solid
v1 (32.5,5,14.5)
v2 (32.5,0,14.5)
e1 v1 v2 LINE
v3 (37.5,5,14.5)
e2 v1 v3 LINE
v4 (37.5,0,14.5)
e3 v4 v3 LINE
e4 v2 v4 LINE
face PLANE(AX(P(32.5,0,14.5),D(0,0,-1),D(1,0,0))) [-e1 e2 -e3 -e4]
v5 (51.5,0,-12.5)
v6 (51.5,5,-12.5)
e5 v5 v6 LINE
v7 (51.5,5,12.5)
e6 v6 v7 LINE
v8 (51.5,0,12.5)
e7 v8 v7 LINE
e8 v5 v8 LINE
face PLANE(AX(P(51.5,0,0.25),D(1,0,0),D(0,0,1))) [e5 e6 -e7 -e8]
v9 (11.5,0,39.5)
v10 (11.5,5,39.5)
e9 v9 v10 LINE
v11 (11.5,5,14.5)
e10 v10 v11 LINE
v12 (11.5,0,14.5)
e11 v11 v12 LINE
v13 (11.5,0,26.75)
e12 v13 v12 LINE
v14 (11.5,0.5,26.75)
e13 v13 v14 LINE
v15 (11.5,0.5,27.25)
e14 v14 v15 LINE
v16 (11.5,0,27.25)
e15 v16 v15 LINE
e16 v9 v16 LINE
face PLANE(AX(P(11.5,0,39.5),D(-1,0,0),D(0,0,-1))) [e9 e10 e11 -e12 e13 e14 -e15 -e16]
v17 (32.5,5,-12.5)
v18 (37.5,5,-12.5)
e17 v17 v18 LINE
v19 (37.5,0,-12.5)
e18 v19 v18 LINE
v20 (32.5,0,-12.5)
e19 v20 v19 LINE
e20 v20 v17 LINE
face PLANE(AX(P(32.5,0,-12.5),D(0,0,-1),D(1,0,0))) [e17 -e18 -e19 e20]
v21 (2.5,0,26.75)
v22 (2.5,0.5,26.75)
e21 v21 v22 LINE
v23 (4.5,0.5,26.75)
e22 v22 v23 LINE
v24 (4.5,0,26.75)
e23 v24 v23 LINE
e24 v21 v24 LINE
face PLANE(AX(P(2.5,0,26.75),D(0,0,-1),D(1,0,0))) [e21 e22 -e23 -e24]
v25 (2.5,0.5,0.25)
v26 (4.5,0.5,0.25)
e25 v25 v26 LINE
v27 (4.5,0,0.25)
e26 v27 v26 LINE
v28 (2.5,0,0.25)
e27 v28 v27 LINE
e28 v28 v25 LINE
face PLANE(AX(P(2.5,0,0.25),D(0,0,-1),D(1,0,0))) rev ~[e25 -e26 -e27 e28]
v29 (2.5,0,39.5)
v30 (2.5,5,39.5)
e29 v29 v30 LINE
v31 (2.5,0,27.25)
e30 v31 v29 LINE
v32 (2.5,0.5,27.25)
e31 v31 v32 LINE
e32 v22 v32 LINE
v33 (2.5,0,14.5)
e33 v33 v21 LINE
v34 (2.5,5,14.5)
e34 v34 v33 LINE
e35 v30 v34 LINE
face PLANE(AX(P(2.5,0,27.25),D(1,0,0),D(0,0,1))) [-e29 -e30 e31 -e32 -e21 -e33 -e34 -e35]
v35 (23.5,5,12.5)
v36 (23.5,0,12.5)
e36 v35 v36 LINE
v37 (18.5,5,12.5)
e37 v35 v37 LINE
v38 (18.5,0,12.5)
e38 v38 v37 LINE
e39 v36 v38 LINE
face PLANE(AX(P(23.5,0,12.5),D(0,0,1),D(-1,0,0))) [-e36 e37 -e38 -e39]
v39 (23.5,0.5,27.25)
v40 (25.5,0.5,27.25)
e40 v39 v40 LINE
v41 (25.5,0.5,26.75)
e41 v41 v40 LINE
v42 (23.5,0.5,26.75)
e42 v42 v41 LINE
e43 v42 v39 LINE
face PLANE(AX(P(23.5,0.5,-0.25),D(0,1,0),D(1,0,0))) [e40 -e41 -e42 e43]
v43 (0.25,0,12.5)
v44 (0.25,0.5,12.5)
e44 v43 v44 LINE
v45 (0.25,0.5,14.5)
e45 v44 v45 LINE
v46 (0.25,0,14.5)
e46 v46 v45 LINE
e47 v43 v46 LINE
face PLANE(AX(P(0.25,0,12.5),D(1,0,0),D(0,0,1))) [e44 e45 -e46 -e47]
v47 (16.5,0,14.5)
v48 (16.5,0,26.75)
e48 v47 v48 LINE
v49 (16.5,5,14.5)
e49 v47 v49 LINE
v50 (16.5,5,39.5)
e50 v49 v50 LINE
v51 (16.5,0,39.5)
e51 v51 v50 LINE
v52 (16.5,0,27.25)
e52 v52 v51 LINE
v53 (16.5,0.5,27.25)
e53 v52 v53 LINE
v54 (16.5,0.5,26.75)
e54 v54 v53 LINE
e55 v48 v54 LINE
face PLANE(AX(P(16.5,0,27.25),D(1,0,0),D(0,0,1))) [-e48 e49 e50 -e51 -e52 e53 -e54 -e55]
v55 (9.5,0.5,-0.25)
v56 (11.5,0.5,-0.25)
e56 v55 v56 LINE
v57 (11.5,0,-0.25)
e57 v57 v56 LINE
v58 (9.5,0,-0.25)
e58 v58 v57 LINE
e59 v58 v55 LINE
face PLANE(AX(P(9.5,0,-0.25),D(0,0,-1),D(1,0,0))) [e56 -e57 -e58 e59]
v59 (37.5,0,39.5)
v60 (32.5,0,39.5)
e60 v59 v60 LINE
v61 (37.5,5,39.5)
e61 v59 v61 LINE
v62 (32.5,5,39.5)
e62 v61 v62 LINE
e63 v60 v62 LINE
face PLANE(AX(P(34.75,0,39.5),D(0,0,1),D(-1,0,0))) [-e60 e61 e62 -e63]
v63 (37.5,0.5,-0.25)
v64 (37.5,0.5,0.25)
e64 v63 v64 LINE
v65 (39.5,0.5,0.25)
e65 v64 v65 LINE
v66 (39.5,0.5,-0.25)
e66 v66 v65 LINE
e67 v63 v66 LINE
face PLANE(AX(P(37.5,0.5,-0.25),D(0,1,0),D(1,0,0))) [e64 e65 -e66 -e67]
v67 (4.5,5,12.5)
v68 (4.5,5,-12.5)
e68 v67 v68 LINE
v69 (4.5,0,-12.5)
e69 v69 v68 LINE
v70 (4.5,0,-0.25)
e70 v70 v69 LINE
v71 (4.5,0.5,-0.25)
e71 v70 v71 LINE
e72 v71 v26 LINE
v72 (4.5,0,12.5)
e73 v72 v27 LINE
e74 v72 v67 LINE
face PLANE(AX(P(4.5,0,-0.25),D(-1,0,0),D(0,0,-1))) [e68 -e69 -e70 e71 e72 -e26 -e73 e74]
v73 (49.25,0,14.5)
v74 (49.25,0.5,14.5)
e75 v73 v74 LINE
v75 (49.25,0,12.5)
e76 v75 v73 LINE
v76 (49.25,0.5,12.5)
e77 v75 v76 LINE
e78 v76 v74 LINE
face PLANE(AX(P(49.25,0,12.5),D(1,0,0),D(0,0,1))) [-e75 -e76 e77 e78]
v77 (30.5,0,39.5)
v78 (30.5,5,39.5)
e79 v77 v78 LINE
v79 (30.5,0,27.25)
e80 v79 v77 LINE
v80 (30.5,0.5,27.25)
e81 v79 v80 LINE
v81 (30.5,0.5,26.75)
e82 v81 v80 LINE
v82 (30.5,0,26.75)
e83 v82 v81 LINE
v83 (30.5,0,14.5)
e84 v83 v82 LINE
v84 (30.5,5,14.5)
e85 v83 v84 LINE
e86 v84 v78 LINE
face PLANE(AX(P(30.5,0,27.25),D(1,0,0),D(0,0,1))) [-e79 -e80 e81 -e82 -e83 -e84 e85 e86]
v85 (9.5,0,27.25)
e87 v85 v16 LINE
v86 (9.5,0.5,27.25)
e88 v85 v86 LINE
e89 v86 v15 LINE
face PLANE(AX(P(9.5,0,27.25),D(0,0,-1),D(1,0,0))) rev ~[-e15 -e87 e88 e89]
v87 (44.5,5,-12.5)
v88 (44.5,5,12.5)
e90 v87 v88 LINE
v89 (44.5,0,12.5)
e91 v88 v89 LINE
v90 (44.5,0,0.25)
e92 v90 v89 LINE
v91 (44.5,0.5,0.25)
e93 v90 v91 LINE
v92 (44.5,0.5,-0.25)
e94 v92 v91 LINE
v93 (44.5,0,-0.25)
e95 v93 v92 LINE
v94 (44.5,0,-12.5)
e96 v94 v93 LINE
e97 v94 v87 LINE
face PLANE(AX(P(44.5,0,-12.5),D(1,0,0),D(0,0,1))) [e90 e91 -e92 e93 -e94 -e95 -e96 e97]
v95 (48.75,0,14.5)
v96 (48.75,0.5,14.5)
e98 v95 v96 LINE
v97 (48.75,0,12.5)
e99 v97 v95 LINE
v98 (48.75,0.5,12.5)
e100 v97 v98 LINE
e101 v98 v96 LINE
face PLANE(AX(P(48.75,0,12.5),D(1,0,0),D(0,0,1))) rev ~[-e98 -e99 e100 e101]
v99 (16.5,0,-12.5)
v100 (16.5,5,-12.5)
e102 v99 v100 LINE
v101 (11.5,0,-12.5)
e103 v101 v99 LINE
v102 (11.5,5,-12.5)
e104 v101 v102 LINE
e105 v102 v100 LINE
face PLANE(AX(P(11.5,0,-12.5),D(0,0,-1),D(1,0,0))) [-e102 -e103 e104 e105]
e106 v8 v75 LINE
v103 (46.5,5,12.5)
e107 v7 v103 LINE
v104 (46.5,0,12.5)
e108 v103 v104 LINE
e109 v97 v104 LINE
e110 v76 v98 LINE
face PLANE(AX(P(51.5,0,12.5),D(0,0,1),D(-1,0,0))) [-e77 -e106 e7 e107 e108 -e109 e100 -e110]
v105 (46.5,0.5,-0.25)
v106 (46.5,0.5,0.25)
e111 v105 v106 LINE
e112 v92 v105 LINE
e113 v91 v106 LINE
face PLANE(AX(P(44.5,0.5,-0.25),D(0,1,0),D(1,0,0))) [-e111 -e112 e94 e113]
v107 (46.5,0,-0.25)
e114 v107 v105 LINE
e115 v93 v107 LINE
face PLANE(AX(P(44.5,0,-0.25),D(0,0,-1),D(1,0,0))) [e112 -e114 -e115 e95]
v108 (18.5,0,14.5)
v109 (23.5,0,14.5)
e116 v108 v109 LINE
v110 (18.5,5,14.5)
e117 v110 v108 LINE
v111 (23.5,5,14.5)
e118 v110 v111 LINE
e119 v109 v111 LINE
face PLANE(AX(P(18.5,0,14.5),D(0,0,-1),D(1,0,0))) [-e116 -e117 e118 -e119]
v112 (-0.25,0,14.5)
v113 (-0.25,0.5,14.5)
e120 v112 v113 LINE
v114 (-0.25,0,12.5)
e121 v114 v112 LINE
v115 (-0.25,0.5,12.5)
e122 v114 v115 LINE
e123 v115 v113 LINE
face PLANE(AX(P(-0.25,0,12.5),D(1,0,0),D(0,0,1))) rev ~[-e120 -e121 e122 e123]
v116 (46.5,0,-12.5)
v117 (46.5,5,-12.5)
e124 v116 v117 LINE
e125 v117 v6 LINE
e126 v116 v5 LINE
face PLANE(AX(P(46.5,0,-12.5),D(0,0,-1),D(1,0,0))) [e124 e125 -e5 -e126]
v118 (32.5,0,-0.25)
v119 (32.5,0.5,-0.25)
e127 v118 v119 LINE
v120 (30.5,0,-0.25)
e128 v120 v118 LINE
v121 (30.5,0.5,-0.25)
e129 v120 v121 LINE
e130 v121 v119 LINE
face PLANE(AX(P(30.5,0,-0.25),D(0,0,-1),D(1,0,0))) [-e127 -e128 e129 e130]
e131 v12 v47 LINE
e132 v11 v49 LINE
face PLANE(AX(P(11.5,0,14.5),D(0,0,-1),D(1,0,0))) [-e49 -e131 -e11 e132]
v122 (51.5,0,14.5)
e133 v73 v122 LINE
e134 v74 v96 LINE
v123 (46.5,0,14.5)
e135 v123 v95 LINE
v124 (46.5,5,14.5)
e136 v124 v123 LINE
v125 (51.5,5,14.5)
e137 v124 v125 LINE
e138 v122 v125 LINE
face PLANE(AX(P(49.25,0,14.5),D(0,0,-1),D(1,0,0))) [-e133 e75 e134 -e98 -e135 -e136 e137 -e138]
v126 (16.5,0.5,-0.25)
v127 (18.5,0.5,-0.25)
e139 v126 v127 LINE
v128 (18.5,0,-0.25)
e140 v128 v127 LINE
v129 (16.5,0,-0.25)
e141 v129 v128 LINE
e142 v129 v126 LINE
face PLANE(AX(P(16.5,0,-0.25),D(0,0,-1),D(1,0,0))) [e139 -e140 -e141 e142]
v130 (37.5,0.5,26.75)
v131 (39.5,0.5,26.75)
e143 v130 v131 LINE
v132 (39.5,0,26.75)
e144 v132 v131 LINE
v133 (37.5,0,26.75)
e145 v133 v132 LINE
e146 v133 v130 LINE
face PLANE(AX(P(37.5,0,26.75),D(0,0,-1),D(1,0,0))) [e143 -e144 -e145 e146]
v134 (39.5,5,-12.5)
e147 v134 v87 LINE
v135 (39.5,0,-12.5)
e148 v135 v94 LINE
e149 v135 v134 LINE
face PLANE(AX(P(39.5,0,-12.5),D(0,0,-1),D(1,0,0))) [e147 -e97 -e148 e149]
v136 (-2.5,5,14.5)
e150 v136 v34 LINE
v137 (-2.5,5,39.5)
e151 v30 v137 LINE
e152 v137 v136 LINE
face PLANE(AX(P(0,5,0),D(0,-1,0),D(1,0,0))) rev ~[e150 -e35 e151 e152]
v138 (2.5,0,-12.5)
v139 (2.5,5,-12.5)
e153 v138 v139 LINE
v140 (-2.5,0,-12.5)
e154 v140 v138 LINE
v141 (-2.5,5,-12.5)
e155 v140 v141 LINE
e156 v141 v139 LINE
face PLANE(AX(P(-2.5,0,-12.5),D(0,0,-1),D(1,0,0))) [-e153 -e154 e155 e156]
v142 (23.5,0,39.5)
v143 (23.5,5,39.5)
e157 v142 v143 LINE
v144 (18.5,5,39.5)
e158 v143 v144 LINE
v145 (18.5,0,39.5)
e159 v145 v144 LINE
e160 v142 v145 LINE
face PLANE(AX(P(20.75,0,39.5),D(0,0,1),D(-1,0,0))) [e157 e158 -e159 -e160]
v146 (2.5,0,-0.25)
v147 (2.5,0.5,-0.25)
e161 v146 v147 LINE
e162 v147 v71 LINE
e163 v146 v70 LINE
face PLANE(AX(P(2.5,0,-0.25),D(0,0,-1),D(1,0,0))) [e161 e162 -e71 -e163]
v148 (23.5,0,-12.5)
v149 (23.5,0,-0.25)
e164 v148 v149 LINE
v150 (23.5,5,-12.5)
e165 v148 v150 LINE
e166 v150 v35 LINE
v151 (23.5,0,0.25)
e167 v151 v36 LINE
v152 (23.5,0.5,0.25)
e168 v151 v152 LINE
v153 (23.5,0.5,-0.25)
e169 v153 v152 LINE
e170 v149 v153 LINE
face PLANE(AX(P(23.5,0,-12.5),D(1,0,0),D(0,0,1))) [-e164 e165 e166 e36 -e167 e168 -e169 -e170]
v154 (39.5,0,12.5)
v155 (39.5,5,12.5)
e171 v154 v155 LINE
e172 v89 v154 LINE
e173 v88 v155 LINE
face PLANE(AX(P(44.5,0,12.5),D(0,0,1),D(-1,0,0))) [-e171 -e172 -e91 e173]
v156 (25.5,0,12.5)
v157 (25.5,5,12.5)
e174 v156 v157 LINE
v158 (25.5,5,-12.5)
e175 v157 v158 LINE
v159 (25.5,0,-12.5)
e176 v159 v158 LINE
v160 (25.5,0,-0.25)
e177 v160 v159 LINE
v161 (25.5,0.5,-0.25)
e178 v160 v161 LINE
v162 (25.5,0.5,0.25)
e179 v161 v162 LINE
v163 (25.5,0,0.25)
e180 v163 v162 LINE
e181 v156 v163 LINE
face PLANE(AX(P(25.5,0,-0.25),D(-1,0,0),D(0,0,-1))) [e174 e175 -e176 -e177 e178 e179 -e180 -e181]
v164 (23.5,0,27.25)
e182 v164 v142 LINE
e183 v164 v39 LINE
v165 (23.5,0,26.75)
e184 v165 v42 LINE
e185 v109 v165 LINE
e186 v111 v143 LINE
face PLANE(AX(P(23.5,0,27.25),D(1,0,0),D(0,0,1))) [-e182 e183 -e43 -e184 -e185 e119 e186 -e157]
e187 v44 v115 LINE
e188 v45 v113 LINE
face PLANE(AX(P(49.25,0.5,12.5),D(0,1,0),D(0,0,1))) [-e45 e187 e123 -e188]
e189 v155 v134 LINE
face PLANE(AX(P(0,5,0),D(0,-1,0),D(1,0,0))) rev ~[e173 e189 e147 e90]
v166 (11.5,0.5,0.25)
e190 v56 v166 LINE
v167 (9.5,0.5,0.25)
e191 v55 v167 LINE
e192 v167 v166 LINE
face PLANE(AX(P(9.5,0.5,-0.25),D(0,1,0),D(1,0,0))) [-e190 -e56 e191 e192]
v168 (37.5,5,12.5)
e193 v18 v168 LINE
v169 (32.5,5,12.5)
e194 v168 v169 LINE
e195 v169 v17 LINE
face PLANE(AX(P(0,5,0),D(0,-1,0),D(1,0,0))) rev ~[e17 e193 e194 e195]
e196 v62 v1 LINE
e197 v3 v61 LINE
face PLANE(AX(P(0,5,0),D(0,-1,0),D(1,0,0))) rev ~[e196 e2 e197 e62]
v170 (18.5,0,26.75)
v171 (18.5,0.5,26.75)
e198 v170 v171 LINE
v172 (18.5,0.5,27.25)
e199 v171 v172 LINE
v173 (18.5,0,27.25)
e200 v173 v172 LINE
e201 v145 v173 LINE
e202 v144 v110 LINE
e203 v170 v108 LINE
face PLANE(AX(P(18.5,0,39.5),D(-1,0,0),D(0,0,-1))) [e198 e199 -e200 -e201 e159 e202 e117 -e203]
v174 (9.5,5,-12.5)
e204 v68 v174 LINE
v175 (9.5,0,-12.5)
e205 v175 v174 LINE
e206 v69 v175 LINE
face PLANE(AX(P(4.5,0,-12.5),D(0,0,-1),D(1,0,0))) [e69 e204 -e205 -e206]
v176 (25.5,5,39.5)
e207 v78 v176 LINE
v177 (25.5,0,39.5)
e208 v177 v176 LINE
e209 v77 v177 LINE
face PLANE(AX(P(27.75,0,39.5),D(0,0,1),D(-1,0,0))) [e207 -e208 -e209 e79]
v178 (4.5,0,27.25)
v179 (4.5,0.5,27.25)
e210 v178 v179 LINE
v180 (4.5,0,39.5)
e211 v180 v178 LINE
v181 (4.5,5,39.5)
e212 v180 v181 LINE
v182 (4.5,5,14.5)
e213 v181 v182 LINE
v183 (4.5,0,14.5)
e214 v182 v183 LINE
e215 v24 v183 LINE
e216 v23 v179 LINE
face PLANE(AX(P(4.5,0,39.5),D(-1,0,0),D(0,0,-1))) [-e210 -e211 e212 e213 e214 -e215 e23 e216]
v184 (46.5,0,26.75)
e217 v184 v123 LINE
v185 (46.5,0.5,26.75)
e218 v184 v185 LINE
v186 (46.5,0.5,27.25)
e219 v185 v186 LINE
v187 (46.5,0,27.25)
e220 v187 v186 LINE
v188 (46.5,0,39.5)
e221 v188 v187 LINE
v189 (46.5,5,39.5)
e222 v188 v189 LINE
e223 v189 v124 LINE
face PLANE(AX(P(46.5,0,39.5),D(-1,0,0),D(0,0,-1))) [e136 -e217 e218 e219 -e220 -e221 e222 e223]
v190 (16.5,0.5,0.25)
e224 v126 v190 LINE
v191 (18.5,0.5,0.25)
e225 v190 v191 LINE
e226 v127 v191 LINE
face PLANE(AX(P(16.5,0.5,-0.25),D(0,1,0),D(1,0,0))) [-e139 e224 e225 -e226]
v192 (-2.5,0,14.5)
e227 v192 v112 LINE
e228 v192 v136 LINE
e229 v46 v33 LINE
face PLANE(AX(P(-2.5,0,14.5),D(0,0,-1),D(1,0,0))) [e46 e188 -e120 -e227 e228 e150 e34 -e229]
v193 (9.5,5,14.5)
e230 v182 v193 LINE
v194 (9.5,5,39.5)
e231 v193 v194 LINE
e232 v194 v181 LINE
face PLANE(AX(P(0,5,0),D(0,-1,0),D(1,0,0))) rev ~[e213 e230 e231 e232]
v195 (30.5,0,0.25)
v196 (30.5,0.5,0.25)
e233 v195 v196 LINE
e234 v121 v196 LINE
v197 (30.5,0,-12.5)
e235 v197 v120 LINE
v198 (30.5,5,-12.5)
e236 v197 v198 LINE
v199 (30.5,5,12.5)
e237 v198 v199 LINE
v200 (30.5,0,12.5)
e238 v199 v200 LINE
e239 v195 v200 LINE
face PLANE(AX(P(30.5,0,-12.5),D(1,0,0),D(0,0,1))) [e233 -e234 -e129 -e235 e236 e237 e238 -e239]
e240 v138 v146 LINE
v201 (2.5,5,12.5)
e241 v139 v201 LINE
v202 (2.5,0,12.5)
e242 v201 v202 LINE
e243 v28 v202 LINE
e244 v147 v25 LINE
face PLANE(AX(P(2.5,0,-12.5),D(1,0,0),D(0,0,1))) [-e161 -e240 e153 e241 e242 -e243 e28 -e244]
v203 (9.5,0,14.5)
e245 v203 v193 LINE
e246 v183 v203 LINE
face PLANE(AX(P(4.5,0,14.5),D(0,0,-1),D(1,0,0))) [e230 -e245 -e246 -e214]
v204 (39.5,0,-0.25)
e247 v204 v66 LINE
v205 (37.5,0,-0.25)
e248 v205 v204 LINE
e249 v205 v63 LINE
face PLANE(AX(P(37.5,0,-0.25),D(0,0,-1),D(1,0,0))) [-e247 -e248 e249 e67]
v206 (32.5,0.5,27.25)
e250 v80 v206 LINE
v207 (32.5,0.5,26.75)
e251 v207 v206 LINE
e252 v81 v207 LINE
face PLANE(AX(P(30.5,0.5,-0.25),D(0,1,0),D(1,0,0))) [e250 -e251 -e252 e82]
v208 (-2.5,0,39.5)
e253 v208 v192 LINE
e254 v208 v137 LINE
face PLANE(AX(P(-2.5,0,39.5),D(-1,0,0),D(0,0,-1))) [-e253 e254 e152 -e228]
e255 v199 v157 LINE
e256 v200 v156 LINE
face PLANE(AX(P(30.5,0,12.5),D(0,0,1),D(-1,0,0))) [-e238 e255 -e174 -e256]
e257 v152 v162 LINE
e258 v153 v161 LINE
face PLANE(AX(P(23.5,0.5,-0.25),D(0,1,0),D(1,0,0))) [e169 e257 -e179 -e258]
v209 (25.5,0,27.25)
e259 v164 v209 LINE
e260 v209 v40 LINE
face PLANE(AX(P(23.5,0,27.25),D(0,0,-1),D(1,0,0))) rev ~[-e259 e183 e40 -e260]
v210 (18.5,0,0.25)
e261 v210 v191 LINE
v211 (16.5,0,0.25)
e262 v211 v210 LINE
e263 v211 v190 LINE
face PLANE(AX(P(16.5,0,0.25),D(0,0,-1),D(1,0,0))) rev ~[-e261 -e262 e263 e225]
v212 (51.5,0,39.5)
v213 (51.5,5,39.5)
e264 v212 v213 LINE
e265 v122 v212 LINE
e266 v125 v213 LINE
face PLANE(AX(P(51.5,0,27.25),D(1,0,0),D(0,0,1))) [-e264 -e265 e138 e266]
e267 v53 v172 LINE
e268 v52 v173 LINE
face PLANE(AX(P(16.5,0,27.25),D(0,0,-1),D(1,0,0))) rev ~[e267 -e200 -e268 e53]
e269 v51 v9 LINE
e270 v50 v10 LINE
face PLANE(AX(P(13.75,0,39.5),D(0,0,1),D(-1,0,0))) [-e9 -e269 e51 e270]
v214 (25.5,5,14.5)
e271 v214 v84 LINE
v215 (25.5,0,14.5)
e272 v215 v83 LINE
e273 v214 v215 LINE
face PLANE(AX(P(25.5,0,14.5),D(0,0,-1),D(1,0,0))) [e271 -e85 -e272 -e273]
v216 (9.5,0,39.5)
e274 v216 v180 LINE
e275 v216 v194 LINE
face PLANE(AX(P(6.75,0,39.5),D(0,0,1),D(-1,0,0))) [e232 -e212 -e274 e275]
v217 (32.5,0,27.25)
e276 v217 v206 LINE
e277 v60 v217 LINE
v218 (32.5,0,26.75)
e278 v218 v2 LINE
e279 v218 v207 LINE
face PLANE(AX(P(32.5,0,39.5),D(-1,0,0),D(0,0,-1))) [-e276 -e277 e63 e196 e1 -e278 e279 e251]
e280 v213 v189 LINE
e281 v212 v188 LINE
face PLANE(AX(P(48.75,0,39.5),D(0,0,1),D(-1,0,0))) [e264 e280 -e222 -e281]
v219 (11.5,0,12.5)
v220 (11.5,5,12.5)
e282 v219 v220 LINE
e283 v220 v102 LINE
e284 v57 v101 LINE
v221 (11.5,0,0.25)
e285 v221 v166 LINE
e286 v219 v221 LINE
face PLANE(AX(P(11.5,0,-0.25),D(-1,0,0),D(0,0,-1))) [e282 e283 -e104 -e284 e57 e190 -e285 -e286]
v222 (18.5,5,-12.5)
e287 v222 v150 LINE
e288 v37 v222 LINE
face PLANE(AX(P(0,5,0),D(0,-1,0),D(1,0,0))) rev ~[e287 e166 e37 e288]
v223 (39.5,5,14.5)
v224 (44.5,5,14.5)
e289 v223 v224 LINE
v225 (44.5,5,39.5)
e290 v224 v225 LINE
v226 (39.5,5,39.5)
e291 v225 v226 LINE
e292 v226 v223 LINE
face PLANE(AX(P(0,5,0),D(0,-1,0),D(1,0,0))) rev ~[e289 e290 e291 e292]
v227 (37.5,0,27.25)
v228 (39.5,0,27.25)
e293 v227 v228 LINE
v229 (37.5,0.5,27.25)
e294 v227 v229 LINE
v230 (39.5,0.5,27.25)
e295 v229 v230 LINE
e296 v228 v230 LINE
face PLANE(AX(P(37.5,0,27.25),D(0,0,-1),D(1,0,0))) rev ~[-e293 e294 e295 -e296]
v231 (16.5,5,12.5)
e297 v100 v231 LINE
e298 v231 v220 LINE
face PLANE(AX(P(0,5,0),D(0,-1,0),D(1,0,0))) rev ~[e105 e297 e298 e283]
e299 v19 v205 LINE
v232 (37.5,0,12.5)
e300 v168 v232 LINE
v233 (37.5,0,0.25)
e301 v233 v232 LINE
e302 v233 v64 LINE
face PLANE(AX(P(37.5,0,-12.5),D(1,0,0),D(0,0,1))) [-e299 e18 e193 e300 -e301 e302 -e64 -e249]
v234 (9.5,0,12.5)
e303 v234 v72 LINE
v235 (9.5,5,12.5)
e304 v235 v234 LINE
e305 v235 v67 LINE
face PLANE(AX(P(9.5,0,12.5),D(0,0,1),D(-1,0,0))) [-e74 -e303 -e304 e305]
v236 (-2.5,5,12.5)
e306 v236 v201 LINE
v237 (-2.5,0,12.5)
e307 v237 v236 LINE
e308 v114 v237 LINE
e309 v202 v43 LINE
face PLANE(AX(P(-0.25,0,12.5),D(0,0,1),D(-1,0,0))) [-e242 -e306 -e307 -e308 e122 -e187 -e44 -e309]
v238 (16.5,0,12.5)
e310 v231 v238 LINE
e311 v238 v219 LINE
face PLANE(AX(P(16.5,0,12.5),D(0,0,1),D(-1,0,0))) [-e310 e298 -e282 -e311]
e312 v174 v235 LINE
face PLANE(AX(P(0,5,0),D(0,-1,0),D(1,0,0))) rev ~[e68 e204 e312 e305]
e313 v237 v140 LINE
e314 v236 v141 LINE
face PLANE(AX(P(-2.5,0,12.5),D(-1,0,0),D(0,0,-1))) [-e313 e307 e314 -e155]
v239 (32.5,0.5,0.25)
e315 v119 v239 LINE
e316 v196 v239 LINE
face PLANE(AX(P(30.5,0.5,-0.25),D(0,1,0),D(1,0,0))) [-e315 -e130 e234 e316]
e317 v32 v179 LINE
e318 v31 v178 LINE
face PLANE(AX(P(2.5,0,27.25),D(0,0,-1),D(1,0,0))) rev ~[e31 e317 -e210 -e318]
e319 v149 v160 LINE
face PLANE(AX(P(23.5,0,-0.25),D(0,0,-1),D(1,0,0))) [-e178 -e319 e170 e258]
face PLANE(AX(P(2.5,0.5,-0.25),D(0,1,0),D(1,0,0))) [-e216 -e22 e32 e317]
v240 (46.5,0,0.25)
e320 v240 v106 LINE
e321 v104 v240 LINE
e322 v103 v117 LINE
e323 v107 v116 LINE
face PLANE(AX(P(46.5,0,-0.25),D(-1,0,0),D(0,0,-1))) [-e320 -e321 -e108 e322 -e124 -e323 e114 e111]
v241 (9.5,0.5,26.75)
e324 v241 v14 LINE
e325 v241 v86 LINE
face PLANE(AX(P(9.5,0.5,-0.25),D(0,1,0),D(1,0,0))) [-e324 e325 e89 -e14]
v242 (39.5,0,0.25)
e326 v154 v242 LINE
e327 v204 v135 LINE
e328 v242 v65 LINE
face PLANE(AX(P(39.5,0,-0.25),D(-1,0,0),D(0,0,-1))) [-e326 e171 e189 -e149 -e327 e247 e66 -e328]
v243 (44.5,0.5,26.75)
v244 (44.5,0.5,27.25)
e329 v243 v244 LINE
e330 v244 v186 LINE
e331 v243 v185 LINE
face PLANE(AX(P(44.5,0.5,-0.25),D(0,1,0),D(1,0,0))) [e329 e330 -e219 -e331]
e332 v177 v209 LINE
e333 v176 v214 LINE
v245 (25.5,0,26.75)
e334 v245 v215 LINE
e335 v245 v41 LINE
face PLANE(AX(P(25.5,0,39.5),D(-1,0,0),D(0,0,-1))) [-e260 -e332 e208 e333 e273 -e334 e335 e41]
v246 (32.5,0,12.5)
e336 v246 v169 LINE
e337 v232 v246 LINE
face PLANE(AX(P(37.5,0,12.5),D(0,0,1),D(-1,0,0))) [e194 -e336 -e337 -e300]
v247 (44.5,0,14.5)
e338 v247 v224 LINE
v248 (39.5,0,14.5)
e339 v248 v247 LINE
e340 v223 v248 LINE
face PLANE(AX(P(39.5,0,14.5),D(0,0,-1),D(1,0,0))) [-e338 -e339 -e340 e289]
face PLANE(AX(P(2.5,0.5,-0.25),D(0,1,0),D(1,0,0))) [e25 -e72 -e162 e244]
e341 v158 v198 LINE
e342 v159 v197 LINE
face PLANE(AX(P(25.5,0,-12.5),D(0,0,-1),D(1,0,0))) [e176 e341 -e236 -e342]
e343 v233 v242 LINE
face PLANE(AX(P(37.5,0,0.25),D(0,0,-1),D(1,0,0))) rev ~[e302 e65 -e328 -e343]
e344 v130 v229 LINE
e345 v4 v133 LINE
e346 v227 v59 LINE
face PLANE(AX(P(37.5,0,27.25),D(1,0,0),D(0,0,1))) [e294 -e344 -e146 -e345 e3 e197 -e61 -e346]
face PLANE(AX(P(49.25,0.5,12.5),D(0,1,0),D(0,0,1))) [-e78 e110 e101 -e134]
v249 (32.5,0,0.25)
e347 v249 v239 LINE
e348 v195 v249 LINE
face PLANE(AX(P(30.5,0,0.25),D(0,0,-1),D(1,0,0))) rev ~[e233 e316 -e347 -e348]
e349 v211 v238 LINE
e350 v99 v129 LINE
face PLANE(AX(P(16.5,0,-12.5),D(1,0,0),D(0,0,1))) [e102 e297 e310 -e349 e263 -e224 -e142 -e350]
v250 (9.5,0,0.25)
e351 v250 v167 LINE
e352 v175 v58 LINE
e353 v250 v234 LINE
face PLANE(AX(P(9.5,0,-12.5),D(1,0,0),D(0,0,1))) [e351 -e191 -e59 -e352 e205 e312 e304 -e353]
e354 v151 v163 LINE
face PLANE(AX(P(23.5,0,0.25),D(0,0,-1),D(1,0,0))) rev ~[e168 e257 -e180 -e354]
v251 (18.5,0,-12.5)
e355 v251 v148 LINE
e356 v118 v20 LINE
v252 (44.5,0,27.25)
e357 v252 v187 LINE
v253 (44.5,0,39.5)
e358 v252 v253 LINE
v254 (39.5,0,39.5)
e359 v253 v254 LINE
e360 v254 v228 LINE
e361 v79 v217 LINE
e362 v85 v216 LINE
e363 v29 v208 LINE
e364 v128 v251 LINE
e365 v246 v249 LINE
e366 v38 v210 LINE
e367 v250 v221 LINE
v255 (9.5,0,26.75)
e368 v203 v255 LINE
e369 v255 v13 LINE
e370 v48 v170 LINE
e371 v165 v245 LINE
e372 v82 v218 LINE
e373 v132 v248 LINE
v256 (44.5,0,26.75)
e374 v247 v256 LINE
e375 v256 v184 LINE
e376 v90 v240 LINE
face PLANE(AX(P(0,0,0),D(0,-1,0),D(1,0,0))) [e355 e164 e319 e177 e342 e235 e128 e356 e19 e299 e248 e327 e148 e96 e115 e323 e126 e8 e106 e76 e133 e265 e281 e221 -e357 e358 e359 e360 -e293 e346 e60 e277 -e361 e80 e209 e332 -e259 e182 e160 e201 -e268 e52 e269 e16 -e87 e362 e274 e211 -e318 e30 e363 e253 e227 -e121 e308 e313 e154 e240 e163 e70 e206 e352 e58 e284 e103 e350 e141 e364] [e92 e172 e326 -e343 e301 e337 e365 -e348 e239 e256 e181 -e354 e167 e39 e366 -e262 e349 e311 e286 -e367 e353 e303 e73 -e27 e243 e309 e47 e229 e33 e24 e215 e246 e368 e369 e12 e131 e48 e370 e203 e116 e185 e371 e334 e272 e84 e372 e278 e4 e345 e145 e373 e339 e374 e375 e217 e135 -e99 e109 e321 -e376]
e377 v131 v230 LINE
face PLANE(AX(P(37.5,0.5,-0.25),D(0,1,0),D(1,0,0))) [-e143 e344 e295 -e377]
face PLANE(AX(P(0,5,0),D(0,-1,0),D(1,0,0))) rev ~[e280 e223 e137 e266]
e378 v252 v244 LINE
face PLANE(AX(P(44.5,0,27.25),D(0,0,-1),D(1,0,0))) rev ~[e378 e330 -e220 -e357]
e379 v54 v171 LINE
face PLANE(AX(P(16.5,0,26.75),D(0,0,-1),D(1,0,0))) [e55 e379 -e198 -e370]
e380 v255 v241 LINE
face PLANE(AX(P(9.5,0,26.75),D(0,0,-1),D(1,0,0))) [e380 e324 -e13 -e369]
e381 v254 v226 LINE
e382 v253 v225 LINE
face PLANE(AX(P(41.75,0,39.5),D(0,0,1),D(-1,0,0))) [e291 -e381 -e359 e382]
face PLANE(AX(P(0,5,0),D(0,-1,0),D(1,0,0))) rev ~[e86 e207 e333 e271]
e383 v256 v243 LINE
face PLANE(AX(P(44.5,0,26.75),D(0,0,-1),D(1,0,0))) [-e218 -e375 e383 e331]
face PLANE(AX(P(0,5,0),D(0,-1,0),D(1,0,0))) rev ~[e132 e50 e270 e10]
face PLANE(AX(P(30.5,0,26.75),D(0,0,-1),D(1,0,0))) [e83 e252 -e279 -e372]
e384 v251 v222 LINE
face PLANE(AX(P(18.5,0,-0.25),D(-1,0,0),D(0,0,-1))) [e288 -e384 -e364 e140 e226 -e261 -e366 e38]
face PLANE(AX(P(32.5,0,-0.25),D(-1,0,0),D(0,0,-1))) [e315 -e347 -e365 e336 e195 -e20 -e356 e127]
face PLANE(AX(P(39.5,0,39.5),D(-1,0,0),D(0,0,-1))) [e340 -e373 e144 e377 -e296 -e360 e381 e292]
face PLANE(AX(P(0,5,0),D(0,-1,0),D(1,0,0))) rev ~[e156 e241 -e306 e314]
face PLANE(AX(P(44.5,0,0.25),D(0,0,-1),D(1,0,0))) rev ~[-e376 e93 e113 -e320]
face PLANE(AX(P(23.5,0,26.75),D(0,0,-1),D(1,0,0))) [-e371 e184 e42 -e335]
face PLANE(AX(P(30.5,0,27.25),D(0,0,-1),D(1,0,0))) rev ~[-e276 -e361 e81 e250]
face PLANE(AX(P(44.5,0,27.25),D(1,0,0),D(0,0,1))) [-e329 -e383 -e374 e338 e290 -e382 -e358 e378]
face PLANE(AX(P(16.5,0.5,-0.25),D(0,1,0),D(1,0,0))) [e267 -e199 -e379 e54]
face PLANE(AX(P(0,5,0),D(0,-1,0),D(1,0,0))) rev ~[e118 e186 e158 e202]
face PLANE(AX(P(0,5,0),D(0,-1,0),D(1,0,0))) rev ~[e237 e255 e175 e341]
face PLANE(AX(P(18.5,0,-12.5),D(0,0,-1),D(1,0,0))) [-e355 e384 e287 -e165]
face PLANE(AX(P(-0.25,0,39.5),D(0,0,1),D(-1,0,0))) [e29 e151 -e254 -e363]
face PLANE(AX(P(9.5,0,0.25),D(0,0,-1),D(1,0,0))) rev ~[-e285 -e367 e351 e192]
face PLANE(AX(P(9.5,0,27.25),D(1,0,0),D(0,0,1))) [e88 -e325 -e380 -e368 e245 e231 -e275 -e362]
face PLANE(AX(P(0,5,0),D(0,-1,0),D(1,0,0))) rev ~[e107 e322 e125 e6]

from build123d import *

# Parameters (mm, degrees)
F0_W     = 2
F0_H     = 0.5
F0_W_2   = 0.5
F0_H_2   = 2
F1_DEPTH = 5
F2_W     = 2
F2_H     = 4.5
F2_H_2   = 0.5
F3_DEPTH = 41.751
F4_W     = 4.5
F4_H     = 2
F4_W_2   = 0.5
F5_DEPTH = 51.751


with BuildPart() as f1:
    # F0 (on Front) → F1 (new body)
    with BuildSketch(Plane.XZ):
        Polygon((-2.5, -12.5), (2.5, -12.5), (2.5, -0.25), (2.5, 0.25), (2.5, 12.5), (0.25, 12.5), (-0.25, 12.5), (-2.5, 12.5), align=None)
        with Locations((3.5, 0)):
            Rectangle(F0_W, F0_H)
        Polygon((4.5, 0.25), (4.5, -0.25), (4.5, -12.5), (9.5, -12.5), (9.5, -0.25), (9.5, 0.25), (9.5, 12.5), (7.25, 12.5), (6.75, 12.5), (4.5, 12.5), align=None)
        with Locations((0, 13.5)):
            Rectangle(F0_W_2, F0_H_2)
        Polygon((-2.5, 14.5), (-0.25, 14.5), (0.25, 14.5), (2.5, 14.5), (2.5, 26.75), (2.5, 27.25), (2.5, 39.5), (0.25, 39.5), (-0.25, 39.5), (-2.5, 39.5), align=None)
        with Locations((10.5, 0)):
            Rectangle(F0_W, F0_H)
        Polygon((4.5, 14.5), (6.75, 14.5), (7.25, 14.5), (9.5, 14.5), (9.5, 26.75), (9.5, 27.25), (9.5, 39.5), (7.25, 39.5), (6.75, 39.5), (4.5, 39.5), (4.5, 27.25), (4.5, 26.75), align=None)
        Polygon((11.5, 0.25), (11.5, -0.25), (11.5, -12.5), (16.5, -12.5), (16.5, -0.25), (16.5, 0.25), (16.5, 12.5), (14.25, 12.5), (13.75, 12.5), (11.5, 12.5), align=None)
        with Locations((3.5, 27)):
            Rectangle(F0_W, F0_H)
        with Locations((0, 40.5)):
            Rectangle(F0_W_2, F0_H_2)
        with Locations((10.5, 27)):
            Rectangle(F0_W, F0_H)
        with Locations((17.5, 0)):
            Rectangle(F0_W, F0_H)
        Polygon((11.5, 27.25), (11.5, 26.75), (11.5, 14.5), (13.75, 14.5), (14.25, 14.5), (16.5, 14.5), (16.5, 26.75), (16.5, 27.25), (16.5, 39.5), (14.25, 39.5), (13.75, 39.5), (11.5, 39.5), align=None)
        Polygon((18.5, 0.25), (18.5, -0.25), (18.5, -12.5), (23.5, -12.5), (23.5, -0.25), (23.5, 0.25), (23.5, 12.5), (21.25, 12.5), (20.75, 12.5), (18.5, 12.5), align=None)
        with Locations((7, 40.5)):
            Rectangle(F0_W_2, F0_H_2)
        with Locations((14, 40.5)):
            Rectangle(F0_W_2, F0_H_2)
        with Locations((17.5, 27)):
            Rectangle(F0_W, F0_H)
        with Locations((24.5, 0)):
            Rectangle(F0_W, F0_H)
        Polygon((18.5, 27.25), (18.5, 26.75), (18.5, 14.5), (20.75, 14.5), (21.25, 14.5), (23.5, 14.5), (23.5, 26.75), (23.5, 27.25), (23.5, 39.5), (21.25, 39.5), (20.75, 39.5), (18.5, 39.5), align=None)
        Polygon((25.5, 0.25), (25.5, -0.25), (25.5, -12.5), (30.5, -12.5), (30.5, -0.25), (30.5, 0.25), (30.5, 12.5), (28.25, 12.5), (27.75, 12.5), (25.5, 12.5), align=None)
        with Locations((21, 40.5)):
            Rectangle(F0_W_2, F0_H_2)
        with Locations((24.5, 27)):
            Rectangle(F0_W, F0_H)
        with Locations((31.5, 0)):
            Rectangle(F0_W, F0_H)
        Polygon((25.5, 27.25), (25.5, 26.75), (25.5, 14.5), (27.75, 14.5), (28.25, 14.5), (30.5, 14.5), (30.5, 26.75), (30.5, 27.25), (30.5, 39.5), (28.25, 39.5), (27.75, 39.5), (25.5, 39.5), align=None)
        Polygon((32.5, 0.25), (32.5, -0.25), (32.5, -12.5), (37.5, -12.5), (37.5, -0.25), (37.5, 0.25), (37.5, 12.5), (35.25, 12.5), (34.75, 12.5), (32.5, 12.5), align=None)
        with Locations((28, 40.5)):
            Rectangle(F0_W_2, F0_H_2)
        with Locations((31.5, 27)):
            Rectangle(F0_W, F0_H)
        with Locations((38.5, 0)):
            Rectangle(F0_W, F0_H)
        Polygon((32.5, 27.25), (32.5, 26.75), (32.5, 14.5), (34.75, 14.5), (35.25, 14.5), (37.5, 14.5), (37.5, 26.75), (37.5, 27.25), (37.5, 39.5), (35.25, 39.5), (34.75, 39.5), (32.5, 39.5), align=None)
        Polygon((39.5, 0.25), (39.5, -0.25), (39.5, -12.5), (44.5, -12.5), (44.5, -0.25), (44.5, 0.25), (44.5, 12.5), (42.25, 12.5), (41.75, 12.5), (39.5, 12.5), align=None)
        with Locations((35, 40.5)):
            Rectangle(F0_W_2, F0_H_2)
        with Locations((38.5, 27)):
            Rectangle(F0_W, F0_H)
        with Locations((45.5, 0)):
            Rectangle(F0_W, F0_H)
        Polygon((39.5, 27.25), (39.5, 26.75), (39.5, 14.5), (41.75, 14.5), (42.25, 14.5), (44.5, 14.5), (44.5, 26.75), (44.5, 27.25), (44.5, 39.5), (42.25, 39.5), (41.75, 39.5), (39.5, 39.5), align=None)
        Polygon((46.5, 0.25), (46.5, -0.25), (46.5, -12.5), (51.5, -12.5), (51.5, -0.25), (51.5, 0.25), (51.5, 12.5), (49.25, 12.5), (48.75, 12.5), (46.5, 12.5), align=None)
        with Locations((42, 40.5)):
            Rectangle(F0_W_2, F0_H_2)
        with Locations((45.5, 27)):
            Rectangle(F0_W, F0_H)
        with Locations((49, 13.5)):
            Rectangle(F0_W_2, F0_H_2)
        with Locations((52.5, 0)):
            Rectangle(F0_W, F0_H)
        Polygon((46.5, 27.25), (46.5, 26.75), (46.5, 14.5), (48.75, 14.5), (49.25, 14.5), (51.5, 14.5), (51.5, 26.75), (51.5, 27.25), (51.5, 39.5), (49.25, 39.5), (48.75, 39.5), (46.5, 39.5), align=None)
        with Locations((49, 40.5)):
            Rectangle(F0_W_2, F0_H_2)
        with Locations((52.5, 27)):
            Rectangle(F0_W, F0_H)
    extrude(amount=-F1_DEPTH)

    # F2 (on face) → F3 (cut, through all)
    with BuildSketch(Plane(origin=(0, 0, -0.25), x_dir=(1, 0, 0), z_dir=(0, 0, -1))):
        with Locations((3.5, -2.75)):
            Rectangle(F2_W, F2_H)
        with Locations((10.5, -2.75)):
            Rectangle(F2_W, F2_H)
        with Locations((17.5, -2.75)):
            Rectangle(F2_W, F2_H)
        with Locations((24.5, -2.75)):
            Rectangle(F2_W, F2_H)
        with Locations((31.5, -2.75)):
            Rectangle(F2_W, F2_H)
        with Locations((38.5, -2.75)):
            Rectangle(F2_W, F2_H)
        with Locations((45.5, -2.75)):
            Rectangle(F2_W, F2_H)
        with Locations((52.5, -2.75)):
            Rectangle(F2_W, F2_H)
        with Locations((52.5, -0.25)):
            Rectangle(F2_W, F2_H_2)
    extrude(amount=-F3_DEPTH, mode=Mode.SUBTRACT)

    # F4 (on face) → F5 (cut, through all)
    with BuildSketch(Plane.YZ.offset(49.25)):
        with Locations((2.75, 40.5)):
            Rectangle(F4_W, F4_H)
        with Locations((0.25, 40.5)):
            Rectangle(F4_W_2, F4_H)
        with Locations((2.75, 13.5)):
            Rectangle(F4_W, F4_H)
    extrude(amount=-F5_DEPTH, mode=Mode.SUBTRACT)


solid = f1.part
